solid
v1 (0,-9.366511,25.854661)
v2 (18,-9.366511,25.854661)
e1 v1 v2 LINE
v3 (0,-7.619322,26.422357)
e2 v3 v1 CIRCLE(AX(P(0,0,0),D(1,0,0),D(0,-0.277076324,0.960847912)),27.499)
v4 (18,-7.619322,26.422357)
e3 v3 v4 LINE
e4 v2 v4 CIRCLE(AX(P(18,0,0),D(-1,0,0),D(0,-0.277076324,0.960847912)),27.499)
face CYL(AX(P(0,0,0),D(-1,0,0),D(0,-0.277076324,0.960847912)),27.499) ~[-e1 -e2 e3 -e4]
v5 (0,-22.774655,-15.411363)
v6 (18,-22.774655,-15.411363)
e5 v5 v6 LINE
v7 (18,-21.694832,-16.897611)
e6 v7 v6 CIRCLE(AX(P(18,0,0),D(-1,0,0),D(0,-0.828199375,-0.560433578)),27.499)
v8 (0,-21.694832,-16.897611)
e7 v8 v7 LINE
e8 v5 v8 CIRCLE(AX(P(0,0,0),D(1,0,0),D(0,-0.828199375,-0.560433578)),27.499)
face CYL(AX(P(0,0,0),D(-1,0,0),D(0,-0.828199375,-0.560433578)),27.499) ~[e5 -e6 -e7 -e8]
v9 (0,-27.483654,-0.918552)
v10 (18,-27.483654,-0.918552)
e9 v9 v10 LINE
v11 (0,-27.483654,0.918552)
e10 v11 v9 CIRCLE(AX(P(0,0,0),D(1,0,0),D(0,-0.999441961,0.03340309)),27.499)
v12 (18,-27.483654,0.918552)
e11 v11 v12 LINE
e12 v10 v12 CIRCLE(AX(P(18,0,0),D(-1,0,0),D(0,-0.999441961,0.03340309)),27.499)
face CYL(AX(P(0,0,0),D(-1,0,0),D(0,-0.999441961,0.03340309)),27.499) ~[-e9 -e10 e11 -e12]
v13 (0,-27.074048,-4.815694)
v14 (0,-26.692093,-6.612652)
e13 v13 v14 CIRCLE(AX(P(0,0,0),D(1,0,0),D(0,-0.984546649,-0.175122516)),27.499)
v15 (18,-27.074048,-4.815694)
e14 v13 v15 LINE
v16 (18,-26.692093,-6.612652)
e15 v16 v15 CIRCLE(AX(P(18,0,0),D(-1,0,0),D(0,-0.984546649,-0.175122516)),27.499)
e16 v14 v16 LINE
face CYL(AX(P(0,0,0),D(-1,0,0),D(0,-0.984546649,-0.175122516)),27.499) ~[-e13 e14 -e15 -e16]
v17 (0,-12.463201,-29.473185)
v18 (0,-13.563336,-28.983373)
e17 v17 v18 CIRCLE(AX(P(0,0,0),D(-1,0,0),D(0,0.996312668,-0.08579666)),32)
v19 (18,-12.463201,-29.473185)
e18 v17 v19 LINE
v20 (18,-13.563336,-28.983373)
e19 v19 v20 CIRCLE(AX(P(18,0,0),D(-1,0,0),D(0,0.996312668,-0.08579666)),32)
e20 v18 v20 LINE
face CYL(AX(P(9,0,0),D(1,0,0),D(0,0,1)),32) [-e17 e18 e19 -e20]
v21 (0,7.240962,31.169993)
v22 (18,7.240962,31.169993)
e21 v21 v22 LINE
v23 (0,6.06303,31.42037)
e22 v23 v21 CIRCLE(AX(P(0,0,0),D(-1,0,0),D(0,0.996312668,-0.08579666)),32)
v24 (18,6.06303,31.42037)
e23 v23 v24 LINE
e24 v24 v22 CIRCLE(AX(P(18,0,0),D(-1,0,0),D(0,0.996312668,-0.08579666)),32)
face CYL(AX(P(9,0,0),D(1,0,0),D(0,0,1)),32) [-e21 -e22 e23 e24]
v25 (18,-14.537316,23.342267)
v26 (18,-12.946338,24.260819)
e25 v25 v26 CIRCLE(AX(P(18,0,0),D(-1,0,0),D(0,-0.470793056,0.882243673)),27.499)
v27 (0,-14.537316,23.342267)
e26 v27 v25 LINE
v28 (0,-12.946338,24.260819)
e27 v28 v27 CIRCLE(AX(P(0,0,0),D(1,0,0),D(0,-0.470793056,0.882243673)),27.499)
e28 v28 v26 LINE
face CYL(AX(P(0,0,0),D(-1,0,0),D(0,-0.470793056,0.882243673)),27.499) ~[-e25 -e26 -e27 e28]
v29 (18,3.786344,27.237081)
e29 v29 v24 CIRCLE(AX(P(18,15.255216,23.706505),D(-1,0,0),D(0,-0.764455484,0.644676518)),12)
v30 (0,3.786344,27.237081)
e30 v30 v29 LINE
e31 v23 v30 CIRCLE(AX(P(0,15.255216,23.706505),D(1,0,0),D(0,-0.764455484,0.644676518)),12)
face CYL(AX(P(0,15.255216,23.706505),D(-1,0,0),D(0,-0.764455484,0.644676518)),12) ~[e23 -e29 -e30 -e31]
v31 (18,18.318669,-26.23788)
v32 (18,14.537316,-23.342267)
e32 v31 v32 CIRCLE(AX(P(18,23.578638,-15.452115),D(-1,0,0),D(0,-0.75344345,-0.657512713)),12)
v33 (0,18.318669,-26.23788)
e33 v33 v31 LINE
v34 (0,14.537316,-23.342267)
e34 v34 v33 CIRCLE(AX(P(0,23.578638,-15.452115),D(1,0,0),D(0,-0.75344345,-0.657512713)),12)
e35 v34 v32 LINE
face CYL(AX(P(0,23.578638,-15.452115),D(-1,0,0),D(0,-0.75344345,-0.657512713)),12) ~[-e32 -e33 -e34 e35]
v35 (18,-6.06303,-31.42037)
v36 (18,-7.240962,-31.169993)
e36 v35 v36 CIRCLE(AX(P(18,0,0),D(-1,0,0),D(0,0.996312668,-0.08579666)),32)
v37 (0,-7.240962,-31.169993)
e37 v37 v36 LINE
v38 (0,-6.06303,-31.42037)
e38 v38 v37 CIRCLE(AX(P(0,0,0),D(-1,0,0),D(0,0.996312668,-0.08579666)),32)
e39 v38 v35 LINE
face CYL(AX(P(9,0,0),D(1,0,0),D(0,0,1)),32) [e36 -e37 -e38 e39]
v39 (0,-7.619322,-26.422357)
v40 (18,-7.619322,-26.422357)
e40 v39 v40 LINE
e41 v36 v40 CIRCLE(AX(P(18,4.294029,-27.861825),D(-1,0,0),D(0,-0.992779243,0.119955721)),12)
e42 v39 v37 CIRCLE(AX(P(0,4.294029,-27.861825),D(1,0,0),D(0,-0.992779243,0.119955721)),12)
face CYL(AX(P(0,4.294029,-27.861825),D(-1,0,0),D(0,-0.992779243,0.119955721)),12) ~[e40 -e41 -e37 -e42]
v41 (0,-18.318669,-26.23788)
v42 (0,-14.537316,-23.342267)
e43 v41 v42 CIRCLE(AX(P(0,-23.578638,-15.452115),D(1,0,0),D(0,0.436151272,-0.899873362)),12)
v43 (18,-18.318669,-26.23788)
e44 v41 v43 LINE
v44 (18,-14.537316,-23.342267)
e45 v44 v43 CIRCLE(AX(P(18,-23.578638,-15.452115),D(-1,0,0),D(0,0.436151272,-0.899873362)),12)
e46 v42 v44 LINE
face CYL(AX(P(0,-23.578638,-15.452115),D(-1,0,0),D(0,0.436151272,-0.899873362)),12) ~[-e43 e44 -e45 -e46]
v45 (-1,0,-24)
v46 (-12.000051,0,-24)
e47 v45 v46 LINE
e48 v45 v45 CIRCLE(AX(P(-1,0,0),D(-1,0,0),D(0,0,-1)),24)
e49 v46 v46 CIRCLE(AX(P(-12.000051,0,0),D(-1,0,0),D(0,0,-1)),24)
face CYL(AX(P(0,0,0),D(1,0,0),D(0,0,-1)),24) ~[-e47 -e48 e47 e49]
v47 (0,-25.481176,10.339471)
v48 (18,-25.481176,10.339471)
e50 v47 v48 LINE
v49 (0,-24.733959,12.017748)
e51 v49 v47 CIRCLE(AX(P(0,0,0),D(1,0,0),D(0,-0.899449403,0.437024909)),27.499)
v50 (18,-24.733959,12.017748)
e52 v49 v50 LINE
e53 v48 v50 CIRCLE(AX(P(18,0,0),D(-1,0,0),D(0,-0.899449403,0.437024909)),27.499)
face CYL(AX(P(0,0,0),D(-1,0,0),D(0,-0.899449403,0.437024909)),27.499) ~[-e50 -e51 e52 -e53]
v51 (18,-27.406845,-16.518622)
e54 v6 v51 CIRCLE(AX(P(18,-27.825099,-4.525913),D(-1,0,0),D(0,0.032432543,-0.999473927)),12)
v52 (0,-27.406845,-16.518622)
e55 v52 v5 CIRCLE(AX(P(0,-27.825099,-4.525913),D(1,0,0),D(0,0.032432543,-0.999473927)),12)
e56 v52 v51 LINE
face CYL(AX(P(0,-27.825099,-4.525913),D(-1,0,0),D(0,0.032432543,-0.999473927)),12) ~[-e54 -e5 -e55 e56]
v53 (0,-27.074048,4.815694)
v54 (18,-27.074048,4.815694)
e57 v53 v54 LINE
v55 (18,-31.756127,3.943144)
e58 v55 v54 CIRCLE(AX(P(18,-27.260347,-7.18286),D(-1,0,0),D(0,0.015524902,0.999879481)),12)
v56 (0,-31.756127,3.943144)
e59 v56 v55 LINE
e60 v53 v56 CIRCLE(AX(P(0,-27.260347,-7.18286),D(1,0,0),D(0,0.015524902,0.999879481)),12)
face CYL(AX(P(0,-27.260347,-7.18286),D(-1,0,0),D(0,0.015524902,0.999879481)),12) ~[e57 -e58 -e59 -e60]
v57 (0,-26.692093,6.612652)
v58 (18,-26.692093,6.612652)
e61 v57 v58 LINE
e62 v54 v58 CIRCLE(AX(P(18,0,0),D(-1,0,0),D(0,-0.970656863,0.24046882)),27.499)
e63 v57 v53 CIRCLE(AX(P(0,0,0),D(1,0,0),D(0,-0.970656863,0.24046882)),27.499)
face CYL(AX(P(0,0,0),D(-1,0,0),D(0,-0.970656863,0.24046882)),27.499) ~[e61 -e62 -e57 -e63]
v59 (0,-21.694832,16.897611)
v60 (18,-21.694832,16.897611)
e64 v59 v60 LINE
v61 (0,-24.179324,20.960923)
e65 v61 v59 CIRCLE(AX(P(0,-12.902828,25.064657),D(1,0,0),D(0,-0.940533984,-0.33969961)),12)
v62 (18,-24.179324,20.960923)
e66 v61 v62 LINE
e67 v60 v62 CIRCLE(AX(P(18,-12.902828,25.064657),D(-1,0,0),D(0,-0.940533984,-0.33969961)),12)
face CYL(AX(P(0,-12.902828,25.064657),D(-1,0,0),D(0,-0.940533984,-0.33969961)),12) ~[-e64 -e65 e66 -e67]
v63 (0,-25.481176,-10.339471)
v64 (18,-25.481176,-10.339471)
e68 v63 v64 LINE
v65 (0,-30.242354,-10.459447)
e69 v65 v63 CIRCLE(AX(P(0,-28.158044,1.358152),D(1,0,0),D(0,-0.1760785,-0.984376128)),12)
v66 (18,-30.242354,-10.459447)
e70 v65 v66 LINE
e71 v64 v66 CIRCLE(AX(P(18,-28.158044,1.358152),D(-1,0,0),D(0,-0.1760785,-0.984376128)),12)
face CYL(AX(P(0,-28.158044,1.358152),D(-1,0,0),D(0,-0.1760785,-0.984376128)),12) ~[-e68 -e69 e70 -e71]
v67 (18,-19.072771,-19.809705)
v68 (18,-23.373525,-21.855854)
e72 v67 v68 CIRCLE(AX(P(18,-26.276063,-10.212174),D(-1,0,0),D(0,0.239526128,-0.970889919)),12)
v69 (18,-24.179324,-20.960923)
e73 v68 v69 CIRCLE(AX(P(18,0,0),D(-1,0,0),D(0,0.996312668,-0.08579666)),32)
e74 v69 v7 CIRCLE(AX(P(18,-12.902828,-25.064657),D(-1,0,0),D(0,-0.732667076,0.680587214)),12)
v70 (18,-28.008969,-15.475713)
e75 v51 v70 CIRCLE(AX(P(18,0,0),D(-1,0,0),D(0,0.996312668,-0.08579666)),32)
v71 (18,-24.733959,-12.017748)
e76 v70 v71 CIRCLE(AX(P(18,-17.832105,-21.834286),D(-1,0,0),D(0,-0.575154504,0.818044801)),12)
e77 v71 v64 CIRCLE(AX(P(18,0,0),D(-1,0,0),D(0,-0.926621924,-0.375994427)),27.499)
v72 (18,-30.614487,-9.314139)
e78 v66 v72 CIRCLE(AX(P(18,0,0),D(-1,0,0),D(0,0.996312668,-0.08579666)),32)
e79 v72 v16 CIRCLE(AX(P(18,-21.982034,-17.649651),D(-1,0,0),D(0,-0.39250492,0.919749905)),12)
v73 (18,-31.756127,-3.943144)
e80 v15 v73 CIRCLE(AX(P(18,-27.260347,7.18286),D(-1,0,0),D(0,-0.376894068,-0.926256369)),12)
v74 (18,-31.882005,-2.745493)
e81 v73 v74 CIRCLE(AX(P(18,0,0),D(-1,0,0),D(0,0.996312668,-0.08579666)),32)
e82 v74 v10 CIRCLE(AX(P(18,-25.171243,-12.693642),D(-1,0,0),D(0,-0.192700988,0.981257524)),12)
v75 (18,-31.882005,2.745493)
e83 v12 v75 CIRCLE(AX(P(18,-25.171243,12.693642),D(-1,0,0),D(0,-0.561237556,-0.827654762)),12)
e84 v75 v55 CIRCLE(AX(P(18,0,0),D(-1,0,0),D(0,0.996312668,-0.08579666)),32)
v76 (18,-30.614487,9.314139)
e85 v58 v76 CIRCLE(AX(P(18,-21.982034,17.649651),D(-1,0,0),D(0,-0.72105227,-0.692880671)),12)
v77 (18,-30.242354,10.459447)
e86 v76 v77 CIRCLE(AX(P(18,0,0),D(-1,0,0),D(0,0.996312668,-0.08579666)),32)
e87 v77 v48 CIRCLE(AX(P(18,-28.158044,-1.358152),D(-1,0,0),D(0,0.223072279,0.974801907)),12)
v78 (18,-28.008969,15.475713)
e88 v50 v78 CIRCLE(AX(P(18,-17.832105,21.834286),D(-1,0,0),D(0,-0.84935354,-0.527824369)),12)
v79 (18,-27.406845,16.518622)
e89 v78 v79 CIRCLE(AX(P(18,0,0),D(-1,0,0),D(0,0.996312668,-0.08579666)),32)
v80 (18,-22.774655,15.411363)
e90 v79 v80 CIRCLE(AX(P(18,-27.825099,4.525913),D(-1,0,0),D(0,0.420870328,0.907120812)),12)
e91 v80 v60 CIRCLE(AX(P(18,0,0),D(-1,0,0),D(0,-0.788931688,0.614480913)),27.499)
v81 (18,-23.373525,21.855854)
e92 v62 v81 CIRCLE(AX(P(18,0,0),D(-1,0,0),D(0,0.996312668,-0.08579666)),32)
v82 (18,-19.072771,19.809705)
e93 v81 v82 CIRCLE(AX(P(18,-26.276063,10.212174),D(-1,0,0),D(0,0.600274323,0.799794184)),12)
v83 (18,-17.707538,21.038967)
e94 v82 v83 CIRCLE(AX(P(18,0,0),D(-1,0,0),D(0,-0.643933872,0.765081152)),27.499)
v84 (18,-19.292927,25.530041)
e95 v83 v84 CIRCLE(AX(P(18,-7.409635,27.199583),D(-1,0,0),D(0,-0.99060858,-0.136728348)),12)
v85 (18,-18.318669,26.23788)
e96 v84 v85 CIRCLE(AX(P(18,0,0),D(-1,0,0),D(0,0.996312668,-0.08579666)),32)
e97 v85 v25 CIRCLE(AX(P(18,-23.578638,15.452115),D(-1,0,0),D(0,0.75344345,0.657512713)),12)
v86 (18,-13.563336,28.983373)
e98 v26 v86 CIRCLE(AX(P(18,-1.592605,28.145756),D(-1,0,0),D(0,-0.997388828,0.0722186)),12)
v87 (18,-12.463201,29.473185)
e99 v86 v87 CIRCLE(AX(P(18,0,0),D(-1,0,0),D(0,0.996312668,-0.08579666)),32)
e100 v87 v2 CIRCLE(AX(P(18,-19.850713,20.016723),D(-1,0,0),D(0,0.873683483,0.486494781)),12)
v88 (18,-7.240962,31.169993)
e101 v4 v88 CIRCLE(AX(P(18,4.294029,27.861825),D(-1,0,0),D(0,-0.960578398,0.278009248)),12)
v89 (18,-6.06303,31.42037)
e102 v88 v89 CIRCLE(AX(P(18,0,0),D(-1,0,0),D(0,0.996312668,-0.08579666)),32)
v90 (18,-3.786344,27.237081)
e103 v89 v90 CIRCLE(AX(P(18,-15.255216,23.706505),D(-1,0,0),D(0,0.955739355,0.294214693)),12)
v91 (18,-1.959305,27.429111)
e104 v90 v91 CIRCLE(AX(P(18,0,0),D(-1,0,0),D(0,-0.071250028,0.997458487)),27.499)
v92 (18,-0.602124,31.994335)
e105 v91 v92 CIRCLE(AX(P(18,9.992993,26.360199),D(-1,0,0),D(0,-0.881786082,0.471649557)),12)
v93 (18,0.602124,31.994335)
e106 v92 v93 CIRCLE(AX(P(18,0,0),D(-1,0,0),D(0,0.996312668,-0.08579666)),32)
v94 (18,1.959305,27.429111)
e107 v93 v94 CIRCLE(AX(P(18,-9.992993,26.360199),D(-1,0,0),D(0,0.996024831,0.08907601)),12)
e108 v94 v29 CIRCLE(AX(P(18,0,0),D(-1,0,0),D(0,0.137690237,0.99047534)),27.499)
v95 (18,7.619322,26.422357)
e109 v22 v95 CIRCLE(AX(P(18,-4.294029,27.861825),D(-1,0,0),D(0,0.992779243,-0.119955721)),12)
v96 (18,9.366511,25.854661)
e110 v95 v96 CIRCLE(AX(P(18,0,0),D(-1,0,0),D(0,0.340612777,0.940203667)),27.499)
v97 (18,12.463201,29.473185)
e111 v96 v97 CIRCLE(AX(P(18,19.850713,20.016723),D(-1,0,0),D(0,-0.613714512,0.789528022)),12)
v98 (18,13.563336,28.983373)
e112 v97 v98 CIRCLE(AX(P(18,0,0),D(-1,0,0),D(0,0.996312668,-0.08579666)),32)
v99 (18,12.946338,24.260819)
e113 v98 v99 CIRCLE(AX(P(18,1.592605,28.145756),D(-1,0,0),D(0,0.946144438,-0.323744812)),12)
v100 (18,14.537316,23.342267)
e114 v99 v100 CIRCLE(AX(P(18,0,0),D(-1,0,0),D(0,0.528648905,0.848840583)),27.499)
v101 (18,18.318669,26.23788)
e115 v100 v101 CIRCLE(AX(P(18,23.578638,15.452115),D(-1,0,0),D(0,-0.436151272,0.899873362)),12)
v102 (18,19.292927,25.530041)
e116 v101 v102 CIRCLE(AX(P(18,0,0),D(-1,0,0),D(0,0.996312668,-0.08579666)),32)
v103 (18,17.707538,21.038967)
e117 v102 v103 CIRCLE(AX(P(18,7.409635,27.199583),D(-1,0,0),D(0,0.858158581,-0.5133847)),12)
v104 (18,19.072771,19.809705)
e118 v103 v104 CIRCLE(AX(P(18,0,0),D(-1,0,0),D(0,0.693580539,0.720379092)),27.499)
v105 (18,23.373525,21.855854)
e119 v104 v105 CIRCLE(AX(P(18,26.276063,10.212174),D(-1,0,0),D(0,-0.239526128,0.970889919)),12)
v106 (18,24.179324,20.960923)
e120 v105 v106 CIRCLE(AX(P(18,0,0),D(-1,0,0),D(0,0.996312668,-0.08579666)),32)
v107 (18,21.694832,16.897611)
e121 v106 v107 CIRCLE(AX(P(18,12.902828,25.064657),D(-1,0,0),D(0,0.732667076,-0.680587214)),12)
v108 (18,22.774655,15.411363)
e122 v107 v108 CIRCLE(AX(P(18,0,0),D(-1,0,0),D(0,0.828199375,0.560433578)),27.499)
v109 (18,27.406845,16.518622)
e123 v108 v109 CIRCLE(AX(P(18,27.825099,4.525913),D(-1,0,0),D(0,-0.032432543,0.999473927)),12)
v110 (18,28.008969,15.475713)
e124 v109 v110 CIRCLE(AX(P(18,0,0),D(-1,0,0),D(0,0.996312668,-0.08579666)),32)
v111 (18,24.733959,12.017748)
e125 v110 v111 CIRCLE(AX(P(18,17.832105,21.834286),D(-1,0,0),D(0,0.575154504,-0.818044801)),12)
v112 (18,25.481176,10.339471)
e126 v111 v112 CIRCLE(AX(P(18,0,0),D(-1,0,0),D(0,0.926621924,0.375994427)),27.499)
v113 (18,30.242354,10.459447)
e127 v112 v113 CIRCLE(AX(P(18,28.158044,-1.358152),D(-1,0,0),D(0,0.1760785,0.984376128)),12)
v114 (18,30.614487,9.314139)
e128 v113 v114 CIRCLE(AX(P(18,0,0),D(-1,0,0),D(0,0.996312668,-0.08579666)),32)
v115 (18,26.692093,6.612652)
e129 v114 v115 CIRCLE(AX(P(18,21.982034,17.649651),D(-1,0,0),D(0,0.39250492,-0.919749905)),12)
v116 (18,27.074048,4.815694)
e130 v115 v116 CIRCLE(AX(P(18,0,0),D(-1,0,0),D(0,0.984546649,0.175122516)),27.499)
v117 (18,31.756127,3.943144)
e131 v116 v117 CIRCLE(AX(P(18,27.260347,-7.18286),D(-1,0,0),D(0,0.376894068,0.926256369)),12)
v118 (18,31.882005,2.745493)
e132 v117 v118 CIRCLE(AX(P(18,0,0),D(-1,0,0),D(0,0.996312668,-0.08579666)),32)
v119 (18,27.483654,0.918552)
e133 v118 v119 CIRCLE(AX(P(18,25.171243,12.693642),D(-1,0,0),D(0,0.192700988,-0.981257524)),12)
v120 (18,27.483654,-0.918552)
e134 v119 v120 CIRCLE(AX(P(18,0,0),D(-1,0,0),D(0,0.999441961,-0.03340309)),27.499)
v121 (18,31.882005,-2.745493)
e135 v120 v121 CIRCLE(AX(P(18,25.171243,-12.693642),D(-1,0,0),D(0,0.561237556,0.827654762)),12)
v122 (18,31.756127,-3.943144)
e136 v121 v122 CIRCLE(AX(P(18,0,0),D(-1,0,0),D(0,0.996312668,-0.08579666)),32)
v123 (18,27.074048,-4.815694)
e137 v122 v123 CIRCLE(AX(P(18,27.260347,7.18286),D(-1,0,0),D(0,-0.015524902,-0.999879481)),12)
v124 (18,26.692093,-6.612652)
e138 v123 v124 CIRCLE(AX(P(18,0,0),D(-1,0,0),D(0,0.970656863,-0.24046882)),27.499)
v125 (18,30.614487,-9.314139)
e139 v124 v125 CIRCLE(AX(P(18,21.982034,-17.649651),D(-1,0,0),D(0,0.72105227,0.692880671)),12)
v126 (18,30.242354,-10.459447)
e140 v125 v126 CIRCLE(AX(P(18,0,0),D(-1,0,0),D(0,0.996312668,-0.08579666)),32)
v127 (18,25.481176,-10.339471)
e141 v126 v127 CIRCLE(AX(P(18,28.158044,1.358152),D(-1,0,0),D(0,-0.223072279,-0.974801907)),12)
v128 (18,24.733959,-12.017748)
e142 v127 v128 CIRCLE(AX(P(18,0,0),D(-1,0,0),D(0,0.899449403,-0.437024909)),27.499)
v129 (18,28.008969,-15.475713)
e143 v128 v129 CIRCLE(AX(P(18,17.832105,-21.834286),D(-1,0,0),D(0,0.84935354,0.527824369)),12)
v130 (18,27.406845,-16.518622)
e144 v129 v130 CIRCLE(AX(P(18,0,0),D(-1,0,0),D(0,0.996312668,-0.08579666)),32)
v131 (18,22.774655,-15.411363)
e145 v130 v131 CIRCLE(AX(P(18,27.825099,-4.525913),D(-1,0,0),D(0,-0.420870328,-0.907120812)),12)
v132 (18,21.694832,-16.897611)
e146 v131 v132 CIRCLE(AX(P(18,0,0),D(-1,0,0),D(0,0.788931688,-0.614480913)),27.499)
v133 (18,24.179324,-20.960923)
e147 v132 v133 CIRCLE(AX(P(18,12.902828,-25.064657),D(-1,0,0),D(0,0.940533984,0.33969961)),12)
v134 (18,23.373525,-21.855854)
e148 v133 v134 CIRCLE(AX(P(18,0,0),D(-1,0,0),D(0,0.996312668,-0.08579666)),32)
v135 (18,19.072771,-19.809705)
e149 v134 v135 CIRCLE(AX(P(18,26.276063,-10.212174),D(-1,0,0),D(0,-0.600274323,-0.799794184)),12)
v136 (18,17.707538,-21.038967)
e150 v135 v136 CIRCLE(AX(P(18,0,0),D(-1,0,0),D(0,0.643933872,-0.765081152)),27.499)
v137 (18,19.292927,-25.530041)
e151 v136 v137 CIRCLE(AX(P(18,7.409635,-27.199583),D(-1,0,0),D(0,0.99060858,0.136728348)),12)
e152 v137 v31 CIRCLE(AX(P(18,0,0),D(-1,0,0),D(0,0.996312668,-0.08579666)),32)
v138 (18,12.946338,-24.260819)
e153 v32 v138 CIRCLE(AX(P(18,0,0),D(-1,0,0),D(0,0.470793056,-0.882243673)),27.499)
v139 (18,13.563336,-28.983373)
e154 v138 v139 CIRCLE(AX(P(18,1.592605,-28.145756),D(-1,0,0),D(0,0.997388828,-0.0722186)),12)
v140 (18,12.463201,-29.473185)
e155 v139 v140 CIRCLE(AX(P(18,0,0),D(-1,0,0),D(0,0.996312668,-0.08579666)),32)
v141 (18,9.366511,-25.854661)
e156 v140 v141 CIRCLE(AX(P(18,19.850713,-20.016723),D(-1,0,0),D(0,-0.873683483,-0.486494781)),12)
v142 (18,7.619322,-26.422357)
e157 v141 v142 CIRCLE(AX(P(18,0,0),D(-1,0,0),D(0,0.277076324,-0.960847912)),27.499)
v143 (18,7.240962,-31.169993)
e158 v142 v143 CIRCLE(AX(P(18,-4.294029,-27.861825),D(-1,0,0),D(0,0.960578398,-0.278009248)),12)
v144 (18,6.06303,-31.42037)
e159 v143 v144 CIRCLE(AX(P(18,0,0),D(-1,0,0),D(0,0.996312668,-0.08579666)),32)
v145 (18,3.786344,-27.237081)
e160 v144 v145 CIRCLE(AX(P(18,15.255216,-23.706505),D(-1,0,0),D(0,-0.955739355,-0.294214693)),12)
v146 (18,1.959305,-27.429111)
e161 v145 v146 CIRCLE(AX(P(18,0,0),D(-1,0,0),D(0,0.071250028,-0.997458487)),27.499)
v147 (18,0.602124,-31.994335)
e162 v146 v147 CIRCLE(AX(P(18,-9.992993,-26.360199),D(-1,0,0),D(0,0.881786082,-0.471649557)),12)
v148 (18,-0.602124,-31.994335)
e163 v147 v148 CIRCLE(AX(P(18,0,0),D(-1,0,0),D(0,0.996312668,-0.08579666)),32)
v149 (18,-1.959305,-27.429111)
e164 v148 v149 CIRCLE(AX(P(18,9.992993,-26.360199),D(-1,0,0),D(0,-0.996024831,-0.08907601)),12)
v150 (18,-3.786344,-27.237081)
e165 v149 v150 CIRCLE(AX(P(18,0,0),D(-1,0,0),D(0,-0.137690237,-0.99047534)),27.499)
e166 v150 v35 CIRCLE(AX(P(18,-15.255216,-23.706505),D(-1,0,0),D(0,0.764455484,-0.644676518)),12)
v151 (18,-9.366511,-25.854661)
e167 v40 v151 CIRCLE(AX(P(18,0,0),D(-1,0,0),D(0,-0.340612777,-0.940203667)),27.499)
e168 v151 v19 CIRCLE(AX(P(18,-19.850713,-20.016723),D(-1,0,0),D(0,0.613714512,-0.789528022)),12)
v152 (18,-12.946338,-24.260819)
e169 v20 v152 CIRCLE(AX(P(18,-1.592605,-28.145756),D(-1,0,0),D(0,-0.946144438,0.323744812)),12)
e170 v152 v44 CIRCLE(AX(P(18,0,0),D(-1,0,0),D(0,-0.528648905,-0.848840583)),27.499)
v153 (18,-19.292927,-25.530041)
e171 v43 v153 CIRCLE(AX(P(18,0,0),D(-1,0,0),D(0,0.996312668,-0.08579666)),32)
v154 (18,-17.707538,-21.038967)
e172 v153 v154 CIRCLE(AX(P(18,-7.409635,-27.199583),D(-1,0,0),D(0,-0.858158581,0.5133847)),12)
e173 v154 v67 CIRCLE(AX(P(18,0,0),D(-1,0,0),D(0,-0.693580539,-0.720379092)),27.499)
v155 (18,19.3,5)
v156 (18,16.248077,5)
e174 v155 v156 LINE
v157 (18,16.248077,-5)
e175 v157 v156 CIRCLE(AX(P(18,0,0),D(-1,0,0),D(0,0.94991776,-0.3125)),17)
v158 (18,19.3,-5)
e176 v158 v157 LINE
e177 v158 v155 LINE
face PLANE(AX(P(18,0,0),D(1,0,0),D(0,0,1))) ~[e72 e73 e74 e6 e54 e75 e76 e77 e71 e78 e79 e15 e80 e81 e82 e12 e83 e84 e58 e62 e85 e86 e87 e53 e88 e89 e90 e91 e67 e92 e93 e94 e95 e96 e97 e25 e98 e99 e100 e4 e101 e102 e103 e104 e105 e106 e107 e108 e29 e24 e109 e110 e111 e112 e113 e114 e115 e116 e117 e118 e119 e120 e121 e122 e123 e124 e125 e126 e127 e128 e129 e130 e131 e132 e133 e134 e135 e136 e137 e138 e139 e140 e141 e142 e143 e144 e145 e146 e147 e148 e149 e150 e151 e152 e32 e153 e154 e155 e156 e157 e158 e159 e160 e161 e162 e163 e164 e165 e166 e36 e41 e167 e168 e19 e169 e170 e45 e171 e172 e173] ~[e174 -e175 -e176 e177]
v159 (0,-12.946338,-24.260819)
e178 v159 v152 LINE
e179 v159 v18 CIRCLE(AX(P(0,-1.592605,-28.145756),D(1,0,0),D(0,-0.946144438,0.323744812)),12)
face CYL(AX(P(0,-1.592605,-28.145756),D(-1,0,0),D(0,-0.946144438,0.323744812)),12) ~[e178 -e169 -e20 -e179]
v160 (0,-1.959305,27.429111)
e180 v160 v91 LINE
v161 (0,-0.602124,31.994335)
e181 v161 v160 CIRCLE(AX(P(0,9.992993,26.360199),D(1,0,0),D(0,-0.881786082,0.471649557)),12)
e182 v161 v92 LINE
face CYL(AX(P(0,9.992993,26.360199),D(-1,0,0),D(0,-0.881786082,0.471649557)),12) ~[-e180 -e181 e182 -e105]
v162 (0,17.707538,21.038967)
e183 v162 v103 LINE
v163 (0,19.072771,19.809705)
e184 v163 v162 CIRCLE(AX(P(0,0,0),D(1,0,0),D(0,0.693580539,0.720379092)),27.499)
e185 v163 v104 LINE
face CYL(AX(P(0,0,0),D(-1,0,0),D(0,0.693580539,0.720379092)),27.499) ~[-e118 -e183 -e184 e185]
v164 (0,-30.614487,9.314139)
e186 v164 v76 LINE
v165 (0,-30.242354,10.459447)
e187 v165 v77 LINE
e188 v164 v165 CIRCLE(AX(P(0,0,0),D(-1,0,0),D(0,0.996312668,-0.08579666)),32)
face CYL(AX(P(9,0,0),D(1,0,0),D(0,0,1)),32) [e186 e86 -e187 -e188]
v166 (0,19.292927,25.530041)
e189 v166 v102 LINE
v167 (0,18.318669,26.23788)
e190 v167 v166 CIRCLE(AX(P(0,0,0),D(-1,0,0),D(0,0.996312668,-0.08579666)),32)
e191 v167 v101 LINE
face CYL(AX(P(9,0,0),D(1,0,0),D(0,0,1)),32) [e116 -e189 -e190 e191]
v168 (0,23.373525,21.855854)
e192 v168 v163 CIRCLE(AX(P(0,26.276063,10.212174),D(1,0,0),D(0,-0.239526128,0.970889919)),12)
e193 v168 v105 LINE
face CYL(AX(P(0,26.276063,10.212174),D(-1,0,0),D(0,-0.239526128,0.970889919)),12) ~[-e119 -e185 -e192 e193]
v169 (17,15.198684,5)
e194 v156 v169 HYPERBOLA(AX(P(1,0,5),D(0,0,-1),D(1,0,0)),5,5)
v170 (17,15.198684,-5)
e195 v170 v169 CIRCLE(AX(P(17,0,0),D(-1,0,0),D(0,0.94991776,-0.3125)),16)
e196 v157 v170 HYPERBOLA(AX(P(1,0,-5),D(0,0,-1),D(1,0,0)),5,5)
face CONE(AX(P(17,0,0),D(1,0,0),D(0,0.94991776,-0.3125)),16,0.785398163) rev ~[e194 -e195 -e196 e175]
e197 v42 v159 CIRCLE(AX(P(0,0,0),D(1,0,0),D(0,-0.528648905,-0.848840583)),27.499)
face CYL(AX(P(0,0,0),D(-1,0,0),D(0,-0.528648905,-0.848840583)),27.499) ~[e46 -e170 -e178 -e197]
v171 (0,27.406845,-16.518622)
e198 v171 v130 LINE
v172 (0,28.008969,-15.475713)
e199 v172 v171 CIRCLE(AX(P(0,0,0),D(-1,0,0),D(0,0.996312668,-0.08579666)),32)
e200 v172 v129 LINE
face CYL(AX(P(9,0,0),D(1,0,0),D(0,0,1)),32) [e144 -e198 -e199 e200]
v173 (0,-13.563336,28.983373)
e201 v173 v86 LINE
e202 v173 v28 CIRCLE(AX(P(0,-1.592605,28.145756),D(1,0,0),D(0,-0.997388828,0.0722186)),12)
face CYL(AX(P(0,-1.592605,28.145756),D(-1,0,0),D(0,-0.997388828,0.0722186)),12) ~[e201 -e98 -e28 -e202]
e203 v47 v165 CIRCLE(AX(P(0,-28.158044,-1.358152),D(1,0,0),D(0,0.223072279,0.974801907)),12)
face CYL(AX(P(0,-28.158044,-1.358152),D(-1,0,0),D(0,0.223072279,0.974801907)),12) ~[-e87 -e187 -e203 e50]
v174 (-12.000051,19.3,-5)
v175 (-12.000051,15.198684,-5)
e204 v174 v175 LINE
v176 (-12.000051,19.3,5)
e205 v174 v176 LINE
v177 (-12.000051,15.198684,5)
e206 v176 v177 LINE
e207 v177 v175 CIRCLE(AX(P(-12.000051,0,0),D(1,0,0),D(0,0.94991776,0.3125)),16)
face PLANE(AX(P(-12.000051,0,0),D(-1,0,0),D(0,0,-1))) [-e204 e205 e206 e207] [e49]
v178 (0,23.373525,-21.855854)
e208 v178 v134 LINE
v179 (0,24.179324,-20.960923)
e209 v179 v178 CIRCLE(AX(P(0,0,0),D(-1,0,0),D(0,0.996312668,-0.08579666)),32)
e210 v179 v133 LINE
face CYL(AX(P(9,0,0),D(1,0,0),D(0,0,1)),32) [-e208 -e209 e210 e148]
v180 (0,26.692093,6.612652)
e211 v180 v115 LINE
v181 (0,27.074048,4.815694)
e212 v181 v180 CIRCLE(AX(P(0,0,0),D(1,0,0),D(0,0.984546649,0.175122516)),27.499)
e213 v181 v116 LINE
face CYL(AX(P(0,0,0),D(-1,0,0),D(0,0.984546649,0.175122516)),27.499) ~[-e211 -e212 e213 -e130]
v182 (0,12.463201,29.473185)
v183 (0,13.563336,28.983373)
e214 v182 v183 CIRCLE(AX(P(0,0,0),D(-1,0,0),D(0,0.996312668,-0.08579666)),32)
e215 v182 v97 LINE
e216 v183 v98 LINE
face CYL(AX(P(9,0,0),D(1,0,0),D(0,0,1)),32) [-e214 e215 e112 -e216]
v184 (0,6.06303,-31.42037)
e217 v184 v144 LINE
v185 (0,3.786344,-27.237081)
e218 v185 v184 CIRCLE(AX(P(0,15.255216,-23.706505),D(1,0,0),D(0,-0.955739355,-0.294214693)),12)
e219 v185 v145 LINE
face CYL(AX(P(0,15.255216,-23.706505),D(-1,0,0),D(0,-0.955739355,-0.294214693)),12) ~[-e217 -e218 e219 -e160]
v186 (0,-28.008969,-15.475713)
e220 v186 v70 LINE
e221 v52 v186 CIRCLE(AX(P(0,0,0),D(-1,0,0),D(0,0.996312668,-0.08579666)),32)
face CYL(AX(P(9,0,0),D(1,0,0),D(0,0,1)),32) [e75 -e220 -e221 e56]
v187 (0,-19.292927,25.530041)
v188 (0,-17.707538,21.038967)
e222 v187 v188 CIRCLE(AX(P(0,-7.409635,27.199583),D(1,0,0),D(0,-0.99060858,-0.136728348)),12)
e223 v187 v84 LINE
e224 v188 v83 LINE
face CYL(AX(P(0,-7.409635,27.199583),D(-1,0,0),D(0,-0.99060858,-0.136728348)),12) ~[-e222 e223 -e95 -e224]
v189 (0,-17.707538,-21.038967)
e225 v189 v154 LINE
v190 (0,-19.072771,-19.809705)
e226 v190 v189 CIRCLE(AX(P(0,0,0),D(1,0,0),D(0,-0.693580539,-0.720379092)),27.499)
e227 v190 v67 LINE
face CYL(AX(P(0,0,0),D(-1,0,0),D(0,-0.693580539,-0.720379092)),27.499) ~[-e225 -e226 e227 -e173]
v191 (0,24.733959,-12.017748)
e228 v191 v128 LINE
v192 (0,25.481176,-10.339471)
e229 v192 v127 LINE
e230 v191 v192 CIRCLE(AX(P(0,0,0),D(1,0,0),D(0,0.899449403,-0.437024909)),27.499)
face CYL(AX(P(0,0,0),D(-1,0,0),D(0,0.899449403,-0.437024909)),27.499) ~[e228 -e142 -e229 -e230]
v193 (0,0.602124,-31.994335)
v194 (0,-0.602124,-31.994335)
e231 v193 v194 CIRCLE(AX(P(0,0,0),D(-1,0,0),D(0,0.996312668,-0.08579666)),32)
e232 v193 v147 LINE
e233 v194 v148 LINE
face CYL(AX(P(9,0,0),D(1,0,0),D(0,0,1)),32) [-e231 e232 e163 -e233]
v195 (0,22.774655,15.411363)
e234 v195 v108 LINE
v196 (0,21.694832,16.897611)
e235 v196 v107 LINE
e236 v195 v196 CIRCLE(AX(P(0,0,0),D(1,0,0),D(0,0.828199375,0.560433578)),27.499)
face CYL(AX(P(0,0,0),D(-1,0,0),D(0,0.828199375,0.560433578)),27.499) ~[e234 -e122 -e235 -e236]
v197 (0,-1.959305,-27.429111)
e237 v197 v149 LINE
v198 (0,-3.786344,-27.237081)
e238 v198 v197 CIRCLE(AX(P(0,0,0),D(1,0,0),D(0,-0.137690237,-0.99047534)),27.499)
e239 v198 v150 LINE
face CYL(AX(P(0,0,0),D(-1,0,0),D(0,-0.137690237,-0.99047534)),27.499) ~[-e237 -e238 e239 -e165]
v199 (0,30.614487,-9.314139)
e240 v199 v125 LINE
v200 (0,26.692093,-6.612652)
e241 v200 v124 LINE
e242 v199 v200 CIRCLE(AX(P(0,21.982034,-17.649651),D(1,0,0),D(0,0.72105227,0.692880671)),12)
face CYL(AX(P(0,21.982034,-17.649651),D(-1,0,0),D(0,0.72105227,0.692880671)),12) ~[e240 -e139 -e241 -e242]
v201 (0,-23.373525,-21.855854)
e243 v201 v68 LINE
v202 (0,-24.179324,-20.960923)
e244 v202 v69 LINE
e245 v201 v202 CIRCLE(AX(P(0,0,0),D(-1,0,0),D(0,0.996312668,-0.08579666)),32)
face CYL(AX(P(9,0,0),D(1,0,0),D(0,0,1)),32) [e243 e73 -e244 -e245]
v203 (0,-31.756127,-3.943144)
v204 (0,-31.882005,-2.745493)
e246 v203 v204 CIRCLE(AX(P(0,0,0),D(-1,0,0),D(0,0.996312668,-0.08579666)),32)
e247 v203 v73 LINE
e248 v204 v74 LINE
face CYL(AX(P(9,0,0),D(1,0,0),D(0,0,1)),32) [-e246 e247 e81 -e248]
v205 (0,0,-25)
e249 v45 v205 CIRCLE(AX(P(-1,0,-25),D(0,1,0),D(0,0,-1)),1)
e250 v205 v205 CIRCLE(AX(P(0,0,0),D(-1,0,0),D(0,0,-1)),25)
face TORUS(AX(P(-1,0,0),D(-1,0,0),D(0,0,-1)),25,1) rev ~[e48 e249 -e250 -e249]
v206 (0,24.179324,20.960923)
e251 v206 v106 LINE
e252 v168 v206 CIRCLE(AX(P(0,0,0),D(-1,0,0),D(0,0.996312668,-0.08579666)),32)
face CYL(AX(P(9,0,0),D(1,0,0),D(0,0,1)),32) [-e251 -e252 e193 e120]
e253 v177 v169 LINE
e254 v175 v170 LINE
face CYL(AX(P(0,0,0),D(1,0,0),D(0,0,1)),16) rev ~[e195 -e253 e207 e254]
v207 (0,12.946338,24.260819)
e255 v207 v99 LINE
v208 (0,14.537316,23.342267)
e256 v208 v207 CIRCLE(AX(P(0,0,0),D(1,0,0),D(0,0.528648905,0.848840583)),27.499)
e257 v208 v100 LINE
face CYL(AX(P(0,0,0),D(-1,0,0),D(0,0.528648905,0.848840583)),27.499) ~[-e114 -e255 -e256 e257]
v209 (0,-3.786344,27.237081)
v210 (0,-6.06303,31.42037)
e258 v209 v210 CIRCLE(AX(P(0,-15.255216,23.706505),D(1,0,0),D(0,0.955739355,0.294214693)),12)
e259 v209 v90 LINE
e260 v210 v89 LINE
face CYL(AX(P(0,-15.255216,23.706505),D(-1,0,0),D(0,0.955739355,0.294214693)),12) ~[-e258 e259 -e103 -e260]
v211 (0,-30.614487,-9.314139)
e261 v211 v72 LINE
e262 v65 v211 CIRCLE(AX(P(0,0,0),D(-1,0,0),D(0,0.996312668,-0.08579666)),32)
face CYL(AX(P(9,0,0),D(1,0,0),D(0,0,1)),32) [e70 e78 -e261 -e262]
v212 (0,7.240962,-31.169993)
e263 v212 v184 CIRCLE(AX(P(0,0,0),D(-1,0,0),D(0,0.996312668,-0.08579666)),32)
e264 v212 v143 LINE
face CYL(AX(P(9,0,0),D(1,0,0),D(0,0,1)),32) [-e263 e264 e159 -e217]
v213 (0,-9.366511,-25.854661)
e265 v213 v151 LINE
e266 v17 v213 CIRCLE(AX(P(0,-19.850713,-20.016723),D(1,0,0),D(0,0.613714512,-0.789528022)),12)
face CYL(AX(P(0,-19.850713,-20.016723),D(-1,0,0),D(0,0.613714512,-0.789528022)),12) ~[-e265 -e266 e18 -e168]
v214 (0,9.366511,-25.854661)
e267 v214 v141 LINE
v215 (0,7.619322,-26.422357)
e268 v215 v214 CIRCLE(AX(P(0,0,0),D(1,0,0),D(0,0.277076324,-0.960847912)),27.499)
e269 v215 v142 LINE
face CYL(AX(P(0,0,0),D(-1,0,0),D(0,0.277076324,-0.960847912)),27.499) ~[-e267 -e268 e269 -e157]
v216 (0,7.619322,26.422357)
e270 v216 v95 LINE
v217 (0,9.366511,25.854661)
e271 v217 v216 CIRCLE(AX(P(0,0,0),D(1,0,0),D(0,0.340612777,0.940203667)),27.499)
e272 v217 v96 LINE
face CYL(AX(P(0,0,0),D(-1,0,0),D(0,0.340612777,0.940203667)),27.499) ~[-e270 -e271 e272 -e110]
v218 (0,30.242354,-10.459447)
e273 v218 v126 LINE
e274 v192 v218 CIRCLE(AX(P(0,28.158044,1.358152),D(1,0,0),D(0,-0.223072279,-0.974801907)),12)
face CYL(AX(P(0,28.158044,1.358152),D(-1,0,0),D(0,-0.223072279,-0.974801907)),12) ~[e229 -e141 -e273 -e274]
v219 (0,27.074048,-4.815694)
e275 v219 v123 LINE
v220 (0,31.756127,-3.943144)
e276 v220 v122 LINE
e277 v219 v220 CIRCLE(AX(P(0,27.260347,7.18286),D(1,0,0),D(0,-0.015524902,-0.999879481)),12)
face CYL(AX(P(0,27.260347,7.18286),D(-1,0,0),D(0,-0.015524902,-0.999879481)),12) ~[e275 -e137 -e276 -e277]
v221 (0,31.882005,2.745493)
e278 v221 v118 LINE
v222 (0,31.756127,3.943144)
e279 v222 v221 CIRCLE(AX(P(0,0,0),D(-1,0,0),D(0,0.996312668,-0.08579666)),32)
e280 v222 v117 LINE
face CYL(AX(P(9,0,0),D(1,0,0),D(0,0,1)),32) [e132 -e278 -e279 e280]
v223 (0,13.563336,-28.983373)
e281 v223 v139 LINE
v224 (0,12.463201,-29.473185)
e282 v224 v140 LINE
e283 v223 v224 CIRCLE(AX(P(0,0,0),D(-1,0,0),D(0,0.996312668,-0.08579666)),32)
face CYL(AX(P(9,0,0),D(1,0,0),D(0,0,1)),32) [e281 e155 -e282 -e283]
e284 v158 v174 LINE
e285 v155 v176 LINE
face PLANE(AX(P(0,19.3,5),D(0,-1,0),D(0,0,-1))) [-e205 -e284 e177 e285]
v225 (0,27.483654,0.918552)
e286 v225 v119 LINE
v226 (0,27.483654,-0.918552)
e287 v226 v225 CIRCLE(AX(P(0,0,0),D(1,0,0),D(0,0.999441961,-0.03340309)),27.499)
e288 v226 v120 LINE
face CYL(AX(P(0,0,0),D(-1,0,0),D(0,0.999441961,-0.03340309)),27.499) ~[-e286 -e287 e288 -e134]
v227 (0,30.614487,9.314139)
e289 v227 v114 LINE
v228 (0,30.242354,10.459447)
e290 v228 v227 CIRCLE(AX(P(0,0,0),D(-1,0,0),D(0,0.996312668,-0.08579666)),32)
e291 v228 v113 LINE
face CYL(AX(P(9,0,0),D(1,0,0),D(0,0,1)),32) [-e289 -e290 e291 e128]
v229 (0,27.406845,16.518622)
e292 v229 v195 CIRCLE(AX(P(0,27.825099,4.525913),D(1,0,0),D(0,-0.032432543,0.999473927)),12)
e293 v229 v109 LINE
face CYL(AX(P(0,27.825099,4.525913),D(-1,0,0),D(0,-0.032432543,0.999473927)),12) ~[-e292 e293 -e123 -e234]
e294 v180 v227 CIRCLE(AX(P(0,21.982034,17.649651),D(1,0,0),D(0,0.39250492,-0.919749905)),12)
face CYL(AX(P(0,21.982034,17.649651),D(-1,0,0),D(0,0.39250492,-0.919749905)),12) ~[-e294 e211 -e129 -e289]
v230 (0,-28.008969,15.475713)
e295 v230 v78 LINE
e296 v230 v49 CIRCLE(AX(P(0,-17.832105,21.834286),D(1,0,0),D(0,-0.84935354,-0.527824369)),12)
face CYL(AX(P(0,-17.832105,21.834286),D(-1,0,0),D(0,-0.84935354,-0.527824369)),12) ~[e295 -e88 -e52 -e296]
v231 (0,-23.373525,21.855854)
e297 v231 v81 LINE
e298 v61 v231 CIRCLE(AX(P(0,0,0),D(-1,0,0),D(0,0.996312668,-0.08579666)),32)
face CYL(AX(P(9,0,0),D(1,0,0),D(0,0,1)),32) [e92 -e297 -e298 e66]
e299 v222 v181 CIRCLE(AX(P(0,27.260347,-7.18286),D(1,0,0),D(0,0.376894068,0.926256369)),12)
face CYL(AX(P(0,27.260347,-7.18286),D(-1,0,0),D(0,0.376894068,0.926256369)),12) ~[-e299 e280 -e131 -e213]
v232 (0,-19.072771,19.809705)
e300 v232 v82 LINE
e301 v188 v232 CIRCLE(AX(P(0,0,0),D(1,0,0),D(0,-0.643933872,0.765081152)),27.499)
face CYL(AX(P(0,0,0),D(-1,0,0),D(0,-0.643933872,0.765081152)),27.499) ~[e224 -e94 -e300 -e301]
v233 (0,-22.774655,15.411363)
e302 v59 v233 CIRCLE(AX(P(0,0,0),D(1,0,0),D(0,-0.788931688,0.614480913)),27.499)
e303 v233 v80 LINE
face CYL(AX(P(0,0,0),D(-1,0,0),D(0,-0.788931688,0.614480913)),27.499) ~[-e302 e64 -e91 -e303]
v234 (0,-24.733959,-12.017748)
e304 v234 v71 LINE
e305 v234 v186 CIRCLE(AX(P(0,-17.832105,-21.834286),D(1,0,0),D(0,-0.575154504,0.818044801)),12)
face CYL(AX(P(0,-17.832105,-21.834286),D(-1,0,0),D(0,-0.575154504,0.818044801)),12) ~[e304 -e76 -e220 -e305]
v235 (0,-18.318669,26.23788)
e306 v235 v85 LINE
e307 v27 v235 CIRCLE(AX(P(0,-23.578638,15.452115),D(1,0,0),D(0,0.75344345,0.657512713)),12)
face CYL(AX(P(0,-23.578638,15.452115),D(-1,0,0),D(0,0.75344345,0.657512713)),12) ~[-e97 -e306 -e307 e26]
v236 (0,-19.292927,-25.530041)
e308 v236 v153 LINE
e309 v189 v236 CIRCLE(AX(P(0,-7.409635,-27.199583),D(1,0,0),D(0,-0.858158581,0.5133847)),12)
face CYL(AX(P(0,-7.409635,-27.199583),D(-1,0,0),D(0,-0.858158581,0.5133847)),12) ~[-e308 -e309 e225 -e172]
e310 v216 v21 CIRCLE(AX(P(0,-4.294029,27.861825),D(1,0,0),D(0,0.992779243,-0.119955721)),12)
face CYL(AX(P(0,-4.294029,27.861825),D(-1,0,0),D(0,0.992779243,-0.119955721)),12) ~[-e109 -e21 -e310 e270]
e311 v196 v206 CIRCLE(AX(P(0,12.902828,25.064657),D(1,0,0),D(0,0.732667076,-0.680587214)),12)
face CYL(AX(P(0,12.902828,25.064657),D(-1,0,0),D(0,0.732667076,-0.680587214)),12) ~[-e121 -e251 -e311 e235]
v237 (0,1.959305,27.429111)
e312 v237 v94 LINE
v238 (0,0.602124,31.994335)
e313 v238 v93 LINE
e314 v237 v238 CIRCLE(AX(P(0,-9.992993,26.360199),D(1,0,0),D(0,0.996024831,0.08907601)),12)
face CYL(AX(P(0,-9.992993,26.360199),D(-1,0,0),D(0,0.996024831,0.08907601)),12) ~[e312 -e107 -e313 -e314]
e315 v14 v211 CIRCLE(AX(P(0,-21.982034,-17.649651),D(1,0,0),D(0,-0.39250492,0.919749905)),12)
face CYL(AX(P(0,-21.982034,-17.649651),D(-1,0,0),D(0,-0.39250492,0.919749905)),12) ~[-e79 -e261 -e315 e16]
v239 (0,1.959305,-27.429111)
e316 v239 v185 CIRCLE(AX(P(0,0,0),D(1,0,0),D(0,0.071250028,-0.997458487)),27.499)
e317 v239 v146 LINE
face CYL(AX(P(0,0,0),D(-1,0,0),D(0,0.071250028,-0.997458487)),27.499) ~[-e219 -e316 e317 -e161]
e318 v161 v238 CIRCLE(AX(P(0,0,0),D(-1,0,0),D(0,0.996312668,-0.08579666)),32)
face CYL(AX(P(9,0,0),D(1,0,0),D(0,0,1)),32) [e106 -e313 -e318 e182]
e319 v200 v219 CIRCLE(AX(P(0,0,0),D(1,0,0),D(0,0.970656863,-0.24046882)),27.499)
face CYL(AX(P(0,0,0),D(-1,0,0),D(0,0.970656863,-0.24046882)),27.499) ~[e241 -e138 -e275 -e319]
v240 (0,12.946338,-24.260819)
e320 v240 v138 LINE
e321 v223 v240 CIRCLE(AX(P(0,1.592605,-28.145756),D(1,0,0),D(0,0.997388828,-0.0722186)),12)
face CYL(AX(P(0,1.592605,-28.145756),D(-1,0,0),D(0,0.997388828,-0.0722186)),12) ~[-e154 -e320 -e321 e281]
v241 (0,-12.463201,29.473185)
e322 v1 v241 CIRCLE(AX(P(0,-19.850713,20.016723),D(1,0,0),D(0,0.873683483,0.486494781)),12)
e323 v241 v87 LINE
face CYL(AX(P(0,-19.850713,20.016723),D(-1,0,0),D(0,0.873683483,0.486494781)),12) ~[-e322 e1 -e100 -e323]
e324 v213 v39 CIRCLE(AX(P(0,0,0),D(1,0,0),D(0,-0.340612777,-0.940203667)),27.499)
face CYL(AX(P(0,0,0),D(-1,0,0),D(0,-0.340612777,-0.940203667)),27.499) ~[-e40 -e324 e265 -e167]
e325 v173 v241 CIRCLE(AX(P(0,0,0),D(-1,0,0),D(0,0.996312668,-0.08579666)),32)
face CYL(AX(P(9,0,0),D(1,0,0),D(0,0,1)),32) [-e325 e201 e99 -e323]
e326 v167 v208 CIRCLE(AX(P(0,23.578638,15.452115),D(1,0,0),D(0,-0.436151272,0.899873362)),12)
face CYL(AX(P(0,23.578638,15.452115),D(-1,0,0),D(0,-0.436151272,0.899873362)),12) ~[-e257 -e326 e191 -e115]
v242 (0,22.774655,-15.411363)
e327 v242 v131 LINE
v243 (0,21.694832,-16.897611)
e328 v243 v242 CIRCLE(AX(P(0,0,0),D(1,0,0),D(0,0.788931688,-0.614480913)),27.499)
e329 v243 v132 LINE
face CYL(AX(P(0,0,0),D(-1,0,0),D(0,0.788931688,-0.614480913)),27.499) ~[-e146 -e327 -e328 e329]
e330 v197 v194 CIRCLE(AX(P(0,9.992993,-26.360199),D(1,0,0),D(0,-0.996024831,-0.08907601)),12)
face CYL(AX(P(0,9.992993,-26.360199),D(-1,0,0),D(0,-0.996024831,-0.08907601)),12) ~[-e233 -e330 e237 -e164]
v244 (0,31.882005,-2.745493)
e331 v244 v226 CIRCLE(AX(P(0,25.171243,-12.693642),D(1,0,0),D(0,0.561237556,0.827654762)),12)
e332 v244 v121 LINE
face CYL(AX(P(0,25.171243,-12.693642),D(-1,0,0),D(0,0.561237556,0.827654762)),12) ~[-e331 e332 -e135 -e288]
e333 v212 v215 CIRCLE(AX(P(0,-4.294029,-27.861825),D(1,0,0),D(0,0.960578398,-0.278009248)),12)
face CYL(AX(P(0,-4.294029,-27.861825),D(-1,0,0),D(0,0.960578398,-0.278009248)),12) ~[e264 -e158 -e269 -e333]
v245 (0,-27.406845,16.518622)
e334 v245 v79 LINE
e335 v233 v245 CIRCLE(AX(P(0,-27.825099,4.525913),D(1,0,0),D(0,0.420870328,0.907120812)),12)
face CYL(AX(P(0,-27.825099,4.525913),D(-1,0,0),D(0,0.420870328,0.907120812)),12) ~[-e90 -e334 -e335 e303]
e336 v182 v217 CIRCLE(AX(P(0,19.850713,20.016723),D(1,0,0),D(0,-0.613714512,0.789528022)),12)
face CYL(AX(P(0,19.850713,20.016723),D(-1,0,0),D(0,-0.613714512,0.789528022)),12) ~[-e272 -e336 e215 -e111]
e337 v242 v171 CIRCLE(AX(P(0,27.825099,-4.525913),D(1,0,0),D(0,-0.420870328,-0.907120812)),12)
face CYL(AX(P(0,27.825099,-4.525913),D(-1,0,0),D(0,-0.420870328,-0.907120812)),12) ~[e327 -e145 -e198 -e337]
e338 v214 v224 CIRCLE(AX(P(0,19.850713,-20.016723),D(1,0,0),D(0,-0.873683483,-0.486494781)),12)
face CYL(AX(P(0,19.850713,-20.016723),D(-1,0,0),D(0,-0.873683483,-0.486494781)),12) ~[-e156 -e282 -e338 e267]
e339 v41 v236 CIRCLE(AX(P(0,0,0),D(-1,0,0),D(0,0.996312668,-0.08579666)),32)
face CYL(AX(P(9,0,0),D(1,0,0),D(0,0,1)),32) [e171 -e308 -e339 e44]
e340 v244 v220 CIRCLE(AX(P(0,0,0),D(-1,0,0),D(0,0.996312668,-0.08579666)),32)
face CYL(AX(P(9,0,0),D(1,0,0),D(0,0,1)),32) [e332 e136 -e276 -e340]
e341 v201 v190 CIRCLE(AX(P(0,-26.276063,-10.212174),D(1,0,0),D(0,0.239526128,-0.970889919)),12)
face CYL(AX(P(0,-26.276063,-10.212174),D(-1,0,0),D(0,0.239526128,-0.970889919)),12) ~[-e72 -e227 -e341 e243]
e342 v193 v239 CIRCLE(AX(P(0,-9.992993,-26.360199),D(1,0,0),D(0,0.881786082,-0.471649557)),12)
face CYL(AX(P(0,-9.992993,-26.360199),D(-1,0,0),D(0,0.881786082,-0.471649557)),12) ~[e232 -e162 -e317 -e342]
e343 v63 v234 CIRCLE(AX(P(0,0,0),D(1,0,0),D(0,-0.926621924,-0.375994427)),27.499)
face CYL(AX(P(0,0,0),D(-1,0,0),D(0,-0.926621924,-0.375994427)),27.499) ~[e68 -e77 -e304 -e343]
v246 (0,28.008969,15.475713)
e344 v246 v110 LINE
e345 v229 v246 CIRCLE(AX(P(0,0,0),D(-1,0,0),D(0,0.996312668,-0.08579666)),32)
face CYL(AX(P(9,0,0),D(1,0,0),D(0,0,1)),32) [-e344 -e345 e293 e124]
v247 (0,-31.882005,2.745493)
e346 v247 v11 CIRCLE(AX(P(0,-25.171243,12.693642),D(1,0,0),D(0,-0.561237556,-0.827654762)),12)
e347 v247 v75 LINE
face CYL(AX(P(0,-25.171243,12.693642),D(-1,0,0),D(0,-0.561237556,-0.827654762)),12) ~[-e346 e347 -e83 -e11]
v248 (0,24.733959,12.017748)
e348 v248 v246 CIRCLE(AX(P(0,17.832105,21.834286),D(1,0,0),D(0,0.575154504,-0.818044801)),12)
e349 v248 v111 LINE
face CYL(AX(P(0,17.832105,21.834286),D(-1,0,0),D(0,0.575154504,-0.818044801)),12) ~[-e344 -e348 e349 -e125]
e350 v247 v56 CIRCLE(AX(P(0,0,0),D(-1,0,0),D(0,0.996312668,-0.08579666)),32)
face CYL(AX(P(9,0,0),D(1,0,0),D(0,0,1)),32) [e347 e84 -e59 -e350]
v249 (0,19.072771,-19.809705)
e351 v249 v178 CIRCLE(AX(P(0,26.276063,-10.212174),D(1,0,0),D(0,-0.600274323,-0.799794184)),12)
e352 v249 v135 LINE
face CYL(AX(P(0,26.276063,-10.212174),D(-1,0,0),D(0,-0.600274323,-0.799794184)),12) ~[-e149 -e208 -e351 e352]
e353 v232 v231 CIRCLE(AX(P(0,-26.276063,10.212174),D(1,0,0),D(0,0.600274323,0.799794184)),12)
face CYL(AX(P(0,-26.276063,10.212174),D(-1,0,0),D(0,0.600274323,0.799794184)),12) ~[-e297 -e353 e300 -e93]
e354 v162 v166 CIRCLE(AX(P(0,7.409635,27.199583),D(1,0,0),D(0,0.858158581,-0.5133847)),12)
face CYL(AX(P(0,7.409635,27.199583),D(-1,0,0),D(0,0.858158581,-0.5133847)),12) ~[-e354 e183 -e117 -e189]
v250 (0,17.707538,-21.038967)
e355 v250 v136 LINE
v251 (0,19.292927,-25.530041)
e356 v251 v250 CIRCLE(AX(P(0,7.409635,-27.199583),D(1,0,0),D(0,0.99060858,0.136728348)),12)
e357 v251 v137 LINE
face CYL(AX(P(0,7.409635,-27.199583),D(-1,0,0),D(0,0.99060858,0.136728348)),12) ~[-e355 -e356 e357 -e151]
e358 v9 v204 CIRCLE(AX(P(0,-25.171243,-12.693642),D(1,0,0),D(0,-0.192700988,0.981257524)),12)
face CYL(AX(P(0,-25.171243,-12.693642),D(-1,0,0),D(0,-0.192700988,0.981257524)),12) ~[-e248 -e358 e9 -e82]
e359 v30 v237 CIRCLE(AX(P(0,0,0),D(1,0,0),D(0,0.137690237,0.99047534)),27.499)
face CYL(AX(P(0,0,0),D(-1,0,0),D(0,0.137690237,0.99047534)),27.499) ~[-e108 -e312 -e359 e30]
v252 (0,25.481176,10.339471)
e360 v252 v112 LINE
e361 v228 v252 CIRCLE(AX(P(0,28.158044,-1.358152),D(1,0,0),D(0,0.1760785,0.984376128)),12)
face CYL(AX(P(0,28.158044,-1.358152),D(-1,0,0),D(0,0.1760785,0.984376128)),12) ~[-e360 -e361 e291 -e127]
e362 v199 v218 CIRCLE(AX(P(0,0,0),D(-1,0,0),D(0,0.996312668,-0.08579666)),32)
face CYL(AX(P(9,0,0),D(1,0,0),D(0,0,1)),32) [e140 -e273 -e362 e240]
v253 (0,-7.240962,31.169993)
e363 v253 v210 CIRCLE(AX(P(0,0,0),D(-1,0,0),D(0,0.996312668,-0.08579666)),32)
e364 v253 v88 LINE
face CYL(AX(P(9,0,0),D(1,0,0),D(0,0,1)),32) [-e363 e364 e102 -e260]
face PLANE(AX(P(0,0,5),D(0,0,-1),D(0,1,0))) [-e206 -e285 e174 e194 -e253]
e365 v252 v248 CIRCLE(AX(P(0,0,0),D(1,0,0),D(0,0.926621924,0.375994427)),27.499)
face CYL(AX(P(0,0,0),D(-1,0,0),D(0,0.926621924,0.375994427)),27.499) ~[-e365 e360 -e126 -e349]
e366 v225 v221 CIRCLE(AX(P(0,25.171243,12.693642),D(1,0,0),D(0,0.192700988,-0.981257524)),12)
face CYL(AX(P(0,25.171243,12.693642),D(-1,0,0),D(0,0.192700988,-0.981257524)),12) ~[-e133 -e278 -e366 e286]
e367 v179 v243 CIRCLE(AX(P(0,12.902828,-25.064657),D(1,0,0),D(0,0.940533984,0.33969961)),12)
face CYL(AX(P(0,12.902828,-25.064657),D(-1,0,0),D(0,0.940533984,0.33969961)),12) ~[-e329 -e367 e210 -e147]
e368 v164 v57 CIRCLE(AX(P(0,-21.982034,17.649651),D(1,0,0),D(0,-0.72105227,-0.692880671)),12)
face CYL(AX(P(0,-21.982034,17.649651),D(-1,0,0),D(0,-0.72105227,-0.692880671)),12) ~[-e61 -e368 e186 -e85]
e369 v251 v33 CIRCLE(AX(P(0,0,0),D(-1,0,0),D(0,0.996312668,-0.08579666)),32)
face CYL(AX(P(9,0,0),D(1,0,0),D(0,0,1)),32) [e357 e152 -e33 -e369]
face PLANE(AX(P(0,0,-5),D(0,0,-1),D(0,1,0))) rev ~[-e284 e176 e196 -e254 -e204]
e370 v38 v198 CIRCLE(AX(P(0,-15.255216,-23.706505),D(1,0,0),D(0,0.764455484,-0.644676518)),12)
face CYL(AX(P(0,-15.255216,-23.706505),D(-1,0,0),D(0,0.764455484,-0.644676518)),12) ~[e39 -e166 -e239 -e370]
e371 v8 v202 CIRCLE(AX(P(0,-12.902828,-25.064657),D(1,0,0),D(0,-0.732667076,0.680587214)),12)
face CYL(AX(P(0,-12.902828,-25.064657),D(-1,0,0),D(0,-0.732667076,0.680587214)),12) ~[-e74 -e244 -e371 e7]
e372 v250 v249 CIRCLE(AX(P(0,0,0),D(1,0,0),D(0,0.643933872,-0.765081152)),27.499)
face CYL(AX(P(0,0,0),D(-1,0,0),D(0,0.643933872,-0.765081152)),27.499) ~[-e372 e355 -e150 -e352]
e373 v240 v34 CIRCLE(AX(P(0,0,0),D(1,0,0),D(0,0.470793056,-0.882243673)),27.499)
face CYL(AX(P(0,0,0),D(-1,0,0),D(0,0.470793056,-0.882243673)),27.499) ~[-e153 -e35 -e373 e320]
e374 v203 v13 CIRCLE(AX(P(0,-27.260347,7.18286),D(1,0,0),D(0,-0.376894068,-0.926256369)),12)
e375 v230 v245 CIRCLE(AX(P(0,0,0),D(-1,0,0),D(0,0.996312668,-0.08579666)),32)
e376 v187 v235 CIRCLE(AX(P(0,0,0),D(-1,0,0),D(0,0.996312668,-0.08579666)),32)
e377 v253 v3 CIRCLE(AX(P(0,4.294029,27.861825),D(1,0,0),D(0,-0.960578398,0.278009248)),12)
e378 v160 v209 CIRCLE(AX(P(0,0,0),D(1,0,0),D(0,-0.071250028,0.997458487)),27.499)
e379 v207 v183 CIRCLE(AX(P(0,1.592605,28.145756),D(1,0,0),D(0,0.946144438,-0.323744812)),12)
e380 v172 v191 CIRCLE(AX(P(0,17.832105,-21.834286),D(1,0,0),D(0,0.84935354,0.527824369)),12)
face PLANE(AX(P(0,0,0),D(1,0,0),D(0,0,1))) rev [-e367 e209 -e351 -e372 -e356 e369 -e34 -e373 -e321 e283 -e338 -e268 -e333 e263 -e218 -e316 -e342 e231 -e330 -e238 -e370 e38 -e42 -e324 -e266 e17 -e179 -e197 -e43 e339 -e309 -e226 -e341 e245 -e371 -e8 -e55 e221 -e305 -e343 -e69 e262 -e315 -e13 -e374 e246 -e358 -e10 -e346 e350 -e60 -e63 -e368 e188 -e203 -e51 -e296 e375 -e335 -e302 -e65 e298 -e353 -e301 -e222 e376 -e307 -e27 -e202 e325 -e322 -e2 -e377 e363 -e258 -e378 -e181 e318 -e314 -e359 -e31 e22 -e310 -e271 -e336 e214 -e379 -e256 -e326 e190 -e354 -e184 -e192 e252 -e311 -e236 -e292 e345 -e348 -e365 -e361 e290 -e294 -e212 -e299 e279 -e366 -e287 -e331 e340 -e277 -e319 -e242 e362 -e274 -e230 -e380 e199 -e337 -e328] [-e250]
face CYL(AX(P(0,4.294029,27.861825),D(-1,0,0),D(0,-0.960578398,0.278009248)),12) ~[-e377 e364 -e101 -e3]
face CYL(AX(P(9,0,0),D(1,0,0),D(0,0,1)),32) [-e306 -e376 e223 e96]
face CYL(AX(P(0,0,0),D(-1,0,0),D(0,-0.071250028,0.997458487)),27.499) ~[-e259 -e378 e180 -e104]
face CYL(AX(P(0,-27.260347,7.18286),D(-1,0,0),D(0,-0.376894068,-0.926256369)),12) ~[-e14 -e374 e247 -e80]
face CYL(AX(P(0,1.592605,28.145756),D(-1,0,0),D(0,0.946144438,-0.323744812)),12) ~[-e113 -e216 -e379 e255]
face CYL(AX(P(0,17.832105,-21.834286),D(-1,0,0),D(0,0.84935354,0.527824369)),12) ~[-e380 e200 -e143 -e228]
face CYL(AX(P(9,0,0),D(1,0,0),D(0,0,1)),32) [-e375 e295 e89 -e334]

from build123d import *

# Parameters (mm, degrees)
BASPROSKE_W      = 18
BASPROSKE_H      = 32
TOOTHCUT_DEPTH   = 49.703182648
TEETHCUTS_COUNT  = 30
HUBNEAONESKE_R   = 24
HUBNEARONE_DEPTH = 12.0000508
BORSKE_R         = 16
BORE_DEPTH       = 30.0000508
KEYSKE_W         = 10
KEYSKE_H         = 19.3
KEYWAY_DEPTH     = 30.0000508
SMUSSO1_SIZE     = 1
RACCORDO1_R      = 1


with BuildPart() as part:
    # BasProSke → Base-Revolve (revolve)
    with BuildSketch(Plane(origin=(0, 0, 0), x_dir=(1, 0, 0), z_dir=(0, 1, 0)), mode=Mode.PRIVATE) as base_revolve_sk:
        with Locations((9, 16)):
            Rectangle(BASPROSKE_W, BASPROSKE_H)
    revolve(base_revolve_sk.sketch.rotate(Axis((-10, 0, 0), (1, 0, 0)), 180), axis=Axis((-10, 0, 0), (1, 0, 0)))

    # TooCutSke → ToothCut (cut, through all)
    with BuildSketch(Plane(origin=(0, 0, 0), x_dir=(0, 0, -1), z_dir=(1, 0, 0))):
        with BuildLine():
            ThreePointArc((0.918551563, 27.483654488), (0, 27.499), (-0.918551563, 27.483654488))
            ThreePointArc((-0.918551563, 27.483654488), (-1.617208176, 29.787801627), (-2.761784709, 31.906093311))
            ThreePointArc((-2.761784709, 31.906093311), (0, 32.0254), (2.761784709, 31.906093311))
            ThreePointArc((2.761784709, 31.906093311), (1.617208176, 29.787801627), (0.918551563, 27.483654488))
        make_face()
    toothcut = extrude(amount=TOOTHCUT_DEPTH, mode=Mode.SUBTRACT)

    # TeethCuts: ToothCut ×30 about axis
    teethcuts_axis = Axis((0, 0, 0), (1, 0, 0))
    for i in range(1, TEETHCUTS_COUNT):
        add(toothcut.rotate(teethcuts_axis, i * 360 / TEETHCUTS_COUNT), mode=Mode.SUBTRACT)

    # HubNeaOneSke → HubNearOne (add)
    with BuildSketch(Plane.ZY):
        with Locations(Location((0, 0, 0), (0, 0, 180))):
            Circle(HUBNEAONESKE_R)
    extrude(amount=HUBNEARONE_DEPTH)

    # BorSke → Bore (cut, symmetric)
    with BuildSketch(Plane(origin=(0, 0, 0), x_dir=(0, 0, -1), z_dir=(1, 0, 0))):
        with Locations(Location((0, 0, 0), (0, 0, 180))):
            Circle(BORSKE_R)
    extrude(amount=BORE_DEPTH, both=True, mode=Mode.SUBTRACT)

    # KeySke → Keyway (cut, symmetric)
    with BuildSketch(Plane(origin=(0, 0, 0), x_dir=(0, 0, -1), z_dir=(1, 0, 0))):
        with Locations((0, 9.65)):
            Rectangle(KEYSKE_W, KEYSKE_H)
    extrude(amount=KEYWAY_DEPTH, both=True, mode=Mode.SUBTRACT)

    # Smusso1
    smusso1_edges = [part.edges().sort_by_distance(p)[0] for p in [
        (18, -16, 0),
    ]]
    chamfer(smusso1_edges, length=SMUSSO1_SIZE)

    # Raccordo1
    raccordo1_edges = [part.edges().sort_by_distance(p)[0] for p in [
        (0, 0, 24),
    ]]
    fillet(raccordo1_edges, radius=RACCORDO1_R)


solid = part.part
